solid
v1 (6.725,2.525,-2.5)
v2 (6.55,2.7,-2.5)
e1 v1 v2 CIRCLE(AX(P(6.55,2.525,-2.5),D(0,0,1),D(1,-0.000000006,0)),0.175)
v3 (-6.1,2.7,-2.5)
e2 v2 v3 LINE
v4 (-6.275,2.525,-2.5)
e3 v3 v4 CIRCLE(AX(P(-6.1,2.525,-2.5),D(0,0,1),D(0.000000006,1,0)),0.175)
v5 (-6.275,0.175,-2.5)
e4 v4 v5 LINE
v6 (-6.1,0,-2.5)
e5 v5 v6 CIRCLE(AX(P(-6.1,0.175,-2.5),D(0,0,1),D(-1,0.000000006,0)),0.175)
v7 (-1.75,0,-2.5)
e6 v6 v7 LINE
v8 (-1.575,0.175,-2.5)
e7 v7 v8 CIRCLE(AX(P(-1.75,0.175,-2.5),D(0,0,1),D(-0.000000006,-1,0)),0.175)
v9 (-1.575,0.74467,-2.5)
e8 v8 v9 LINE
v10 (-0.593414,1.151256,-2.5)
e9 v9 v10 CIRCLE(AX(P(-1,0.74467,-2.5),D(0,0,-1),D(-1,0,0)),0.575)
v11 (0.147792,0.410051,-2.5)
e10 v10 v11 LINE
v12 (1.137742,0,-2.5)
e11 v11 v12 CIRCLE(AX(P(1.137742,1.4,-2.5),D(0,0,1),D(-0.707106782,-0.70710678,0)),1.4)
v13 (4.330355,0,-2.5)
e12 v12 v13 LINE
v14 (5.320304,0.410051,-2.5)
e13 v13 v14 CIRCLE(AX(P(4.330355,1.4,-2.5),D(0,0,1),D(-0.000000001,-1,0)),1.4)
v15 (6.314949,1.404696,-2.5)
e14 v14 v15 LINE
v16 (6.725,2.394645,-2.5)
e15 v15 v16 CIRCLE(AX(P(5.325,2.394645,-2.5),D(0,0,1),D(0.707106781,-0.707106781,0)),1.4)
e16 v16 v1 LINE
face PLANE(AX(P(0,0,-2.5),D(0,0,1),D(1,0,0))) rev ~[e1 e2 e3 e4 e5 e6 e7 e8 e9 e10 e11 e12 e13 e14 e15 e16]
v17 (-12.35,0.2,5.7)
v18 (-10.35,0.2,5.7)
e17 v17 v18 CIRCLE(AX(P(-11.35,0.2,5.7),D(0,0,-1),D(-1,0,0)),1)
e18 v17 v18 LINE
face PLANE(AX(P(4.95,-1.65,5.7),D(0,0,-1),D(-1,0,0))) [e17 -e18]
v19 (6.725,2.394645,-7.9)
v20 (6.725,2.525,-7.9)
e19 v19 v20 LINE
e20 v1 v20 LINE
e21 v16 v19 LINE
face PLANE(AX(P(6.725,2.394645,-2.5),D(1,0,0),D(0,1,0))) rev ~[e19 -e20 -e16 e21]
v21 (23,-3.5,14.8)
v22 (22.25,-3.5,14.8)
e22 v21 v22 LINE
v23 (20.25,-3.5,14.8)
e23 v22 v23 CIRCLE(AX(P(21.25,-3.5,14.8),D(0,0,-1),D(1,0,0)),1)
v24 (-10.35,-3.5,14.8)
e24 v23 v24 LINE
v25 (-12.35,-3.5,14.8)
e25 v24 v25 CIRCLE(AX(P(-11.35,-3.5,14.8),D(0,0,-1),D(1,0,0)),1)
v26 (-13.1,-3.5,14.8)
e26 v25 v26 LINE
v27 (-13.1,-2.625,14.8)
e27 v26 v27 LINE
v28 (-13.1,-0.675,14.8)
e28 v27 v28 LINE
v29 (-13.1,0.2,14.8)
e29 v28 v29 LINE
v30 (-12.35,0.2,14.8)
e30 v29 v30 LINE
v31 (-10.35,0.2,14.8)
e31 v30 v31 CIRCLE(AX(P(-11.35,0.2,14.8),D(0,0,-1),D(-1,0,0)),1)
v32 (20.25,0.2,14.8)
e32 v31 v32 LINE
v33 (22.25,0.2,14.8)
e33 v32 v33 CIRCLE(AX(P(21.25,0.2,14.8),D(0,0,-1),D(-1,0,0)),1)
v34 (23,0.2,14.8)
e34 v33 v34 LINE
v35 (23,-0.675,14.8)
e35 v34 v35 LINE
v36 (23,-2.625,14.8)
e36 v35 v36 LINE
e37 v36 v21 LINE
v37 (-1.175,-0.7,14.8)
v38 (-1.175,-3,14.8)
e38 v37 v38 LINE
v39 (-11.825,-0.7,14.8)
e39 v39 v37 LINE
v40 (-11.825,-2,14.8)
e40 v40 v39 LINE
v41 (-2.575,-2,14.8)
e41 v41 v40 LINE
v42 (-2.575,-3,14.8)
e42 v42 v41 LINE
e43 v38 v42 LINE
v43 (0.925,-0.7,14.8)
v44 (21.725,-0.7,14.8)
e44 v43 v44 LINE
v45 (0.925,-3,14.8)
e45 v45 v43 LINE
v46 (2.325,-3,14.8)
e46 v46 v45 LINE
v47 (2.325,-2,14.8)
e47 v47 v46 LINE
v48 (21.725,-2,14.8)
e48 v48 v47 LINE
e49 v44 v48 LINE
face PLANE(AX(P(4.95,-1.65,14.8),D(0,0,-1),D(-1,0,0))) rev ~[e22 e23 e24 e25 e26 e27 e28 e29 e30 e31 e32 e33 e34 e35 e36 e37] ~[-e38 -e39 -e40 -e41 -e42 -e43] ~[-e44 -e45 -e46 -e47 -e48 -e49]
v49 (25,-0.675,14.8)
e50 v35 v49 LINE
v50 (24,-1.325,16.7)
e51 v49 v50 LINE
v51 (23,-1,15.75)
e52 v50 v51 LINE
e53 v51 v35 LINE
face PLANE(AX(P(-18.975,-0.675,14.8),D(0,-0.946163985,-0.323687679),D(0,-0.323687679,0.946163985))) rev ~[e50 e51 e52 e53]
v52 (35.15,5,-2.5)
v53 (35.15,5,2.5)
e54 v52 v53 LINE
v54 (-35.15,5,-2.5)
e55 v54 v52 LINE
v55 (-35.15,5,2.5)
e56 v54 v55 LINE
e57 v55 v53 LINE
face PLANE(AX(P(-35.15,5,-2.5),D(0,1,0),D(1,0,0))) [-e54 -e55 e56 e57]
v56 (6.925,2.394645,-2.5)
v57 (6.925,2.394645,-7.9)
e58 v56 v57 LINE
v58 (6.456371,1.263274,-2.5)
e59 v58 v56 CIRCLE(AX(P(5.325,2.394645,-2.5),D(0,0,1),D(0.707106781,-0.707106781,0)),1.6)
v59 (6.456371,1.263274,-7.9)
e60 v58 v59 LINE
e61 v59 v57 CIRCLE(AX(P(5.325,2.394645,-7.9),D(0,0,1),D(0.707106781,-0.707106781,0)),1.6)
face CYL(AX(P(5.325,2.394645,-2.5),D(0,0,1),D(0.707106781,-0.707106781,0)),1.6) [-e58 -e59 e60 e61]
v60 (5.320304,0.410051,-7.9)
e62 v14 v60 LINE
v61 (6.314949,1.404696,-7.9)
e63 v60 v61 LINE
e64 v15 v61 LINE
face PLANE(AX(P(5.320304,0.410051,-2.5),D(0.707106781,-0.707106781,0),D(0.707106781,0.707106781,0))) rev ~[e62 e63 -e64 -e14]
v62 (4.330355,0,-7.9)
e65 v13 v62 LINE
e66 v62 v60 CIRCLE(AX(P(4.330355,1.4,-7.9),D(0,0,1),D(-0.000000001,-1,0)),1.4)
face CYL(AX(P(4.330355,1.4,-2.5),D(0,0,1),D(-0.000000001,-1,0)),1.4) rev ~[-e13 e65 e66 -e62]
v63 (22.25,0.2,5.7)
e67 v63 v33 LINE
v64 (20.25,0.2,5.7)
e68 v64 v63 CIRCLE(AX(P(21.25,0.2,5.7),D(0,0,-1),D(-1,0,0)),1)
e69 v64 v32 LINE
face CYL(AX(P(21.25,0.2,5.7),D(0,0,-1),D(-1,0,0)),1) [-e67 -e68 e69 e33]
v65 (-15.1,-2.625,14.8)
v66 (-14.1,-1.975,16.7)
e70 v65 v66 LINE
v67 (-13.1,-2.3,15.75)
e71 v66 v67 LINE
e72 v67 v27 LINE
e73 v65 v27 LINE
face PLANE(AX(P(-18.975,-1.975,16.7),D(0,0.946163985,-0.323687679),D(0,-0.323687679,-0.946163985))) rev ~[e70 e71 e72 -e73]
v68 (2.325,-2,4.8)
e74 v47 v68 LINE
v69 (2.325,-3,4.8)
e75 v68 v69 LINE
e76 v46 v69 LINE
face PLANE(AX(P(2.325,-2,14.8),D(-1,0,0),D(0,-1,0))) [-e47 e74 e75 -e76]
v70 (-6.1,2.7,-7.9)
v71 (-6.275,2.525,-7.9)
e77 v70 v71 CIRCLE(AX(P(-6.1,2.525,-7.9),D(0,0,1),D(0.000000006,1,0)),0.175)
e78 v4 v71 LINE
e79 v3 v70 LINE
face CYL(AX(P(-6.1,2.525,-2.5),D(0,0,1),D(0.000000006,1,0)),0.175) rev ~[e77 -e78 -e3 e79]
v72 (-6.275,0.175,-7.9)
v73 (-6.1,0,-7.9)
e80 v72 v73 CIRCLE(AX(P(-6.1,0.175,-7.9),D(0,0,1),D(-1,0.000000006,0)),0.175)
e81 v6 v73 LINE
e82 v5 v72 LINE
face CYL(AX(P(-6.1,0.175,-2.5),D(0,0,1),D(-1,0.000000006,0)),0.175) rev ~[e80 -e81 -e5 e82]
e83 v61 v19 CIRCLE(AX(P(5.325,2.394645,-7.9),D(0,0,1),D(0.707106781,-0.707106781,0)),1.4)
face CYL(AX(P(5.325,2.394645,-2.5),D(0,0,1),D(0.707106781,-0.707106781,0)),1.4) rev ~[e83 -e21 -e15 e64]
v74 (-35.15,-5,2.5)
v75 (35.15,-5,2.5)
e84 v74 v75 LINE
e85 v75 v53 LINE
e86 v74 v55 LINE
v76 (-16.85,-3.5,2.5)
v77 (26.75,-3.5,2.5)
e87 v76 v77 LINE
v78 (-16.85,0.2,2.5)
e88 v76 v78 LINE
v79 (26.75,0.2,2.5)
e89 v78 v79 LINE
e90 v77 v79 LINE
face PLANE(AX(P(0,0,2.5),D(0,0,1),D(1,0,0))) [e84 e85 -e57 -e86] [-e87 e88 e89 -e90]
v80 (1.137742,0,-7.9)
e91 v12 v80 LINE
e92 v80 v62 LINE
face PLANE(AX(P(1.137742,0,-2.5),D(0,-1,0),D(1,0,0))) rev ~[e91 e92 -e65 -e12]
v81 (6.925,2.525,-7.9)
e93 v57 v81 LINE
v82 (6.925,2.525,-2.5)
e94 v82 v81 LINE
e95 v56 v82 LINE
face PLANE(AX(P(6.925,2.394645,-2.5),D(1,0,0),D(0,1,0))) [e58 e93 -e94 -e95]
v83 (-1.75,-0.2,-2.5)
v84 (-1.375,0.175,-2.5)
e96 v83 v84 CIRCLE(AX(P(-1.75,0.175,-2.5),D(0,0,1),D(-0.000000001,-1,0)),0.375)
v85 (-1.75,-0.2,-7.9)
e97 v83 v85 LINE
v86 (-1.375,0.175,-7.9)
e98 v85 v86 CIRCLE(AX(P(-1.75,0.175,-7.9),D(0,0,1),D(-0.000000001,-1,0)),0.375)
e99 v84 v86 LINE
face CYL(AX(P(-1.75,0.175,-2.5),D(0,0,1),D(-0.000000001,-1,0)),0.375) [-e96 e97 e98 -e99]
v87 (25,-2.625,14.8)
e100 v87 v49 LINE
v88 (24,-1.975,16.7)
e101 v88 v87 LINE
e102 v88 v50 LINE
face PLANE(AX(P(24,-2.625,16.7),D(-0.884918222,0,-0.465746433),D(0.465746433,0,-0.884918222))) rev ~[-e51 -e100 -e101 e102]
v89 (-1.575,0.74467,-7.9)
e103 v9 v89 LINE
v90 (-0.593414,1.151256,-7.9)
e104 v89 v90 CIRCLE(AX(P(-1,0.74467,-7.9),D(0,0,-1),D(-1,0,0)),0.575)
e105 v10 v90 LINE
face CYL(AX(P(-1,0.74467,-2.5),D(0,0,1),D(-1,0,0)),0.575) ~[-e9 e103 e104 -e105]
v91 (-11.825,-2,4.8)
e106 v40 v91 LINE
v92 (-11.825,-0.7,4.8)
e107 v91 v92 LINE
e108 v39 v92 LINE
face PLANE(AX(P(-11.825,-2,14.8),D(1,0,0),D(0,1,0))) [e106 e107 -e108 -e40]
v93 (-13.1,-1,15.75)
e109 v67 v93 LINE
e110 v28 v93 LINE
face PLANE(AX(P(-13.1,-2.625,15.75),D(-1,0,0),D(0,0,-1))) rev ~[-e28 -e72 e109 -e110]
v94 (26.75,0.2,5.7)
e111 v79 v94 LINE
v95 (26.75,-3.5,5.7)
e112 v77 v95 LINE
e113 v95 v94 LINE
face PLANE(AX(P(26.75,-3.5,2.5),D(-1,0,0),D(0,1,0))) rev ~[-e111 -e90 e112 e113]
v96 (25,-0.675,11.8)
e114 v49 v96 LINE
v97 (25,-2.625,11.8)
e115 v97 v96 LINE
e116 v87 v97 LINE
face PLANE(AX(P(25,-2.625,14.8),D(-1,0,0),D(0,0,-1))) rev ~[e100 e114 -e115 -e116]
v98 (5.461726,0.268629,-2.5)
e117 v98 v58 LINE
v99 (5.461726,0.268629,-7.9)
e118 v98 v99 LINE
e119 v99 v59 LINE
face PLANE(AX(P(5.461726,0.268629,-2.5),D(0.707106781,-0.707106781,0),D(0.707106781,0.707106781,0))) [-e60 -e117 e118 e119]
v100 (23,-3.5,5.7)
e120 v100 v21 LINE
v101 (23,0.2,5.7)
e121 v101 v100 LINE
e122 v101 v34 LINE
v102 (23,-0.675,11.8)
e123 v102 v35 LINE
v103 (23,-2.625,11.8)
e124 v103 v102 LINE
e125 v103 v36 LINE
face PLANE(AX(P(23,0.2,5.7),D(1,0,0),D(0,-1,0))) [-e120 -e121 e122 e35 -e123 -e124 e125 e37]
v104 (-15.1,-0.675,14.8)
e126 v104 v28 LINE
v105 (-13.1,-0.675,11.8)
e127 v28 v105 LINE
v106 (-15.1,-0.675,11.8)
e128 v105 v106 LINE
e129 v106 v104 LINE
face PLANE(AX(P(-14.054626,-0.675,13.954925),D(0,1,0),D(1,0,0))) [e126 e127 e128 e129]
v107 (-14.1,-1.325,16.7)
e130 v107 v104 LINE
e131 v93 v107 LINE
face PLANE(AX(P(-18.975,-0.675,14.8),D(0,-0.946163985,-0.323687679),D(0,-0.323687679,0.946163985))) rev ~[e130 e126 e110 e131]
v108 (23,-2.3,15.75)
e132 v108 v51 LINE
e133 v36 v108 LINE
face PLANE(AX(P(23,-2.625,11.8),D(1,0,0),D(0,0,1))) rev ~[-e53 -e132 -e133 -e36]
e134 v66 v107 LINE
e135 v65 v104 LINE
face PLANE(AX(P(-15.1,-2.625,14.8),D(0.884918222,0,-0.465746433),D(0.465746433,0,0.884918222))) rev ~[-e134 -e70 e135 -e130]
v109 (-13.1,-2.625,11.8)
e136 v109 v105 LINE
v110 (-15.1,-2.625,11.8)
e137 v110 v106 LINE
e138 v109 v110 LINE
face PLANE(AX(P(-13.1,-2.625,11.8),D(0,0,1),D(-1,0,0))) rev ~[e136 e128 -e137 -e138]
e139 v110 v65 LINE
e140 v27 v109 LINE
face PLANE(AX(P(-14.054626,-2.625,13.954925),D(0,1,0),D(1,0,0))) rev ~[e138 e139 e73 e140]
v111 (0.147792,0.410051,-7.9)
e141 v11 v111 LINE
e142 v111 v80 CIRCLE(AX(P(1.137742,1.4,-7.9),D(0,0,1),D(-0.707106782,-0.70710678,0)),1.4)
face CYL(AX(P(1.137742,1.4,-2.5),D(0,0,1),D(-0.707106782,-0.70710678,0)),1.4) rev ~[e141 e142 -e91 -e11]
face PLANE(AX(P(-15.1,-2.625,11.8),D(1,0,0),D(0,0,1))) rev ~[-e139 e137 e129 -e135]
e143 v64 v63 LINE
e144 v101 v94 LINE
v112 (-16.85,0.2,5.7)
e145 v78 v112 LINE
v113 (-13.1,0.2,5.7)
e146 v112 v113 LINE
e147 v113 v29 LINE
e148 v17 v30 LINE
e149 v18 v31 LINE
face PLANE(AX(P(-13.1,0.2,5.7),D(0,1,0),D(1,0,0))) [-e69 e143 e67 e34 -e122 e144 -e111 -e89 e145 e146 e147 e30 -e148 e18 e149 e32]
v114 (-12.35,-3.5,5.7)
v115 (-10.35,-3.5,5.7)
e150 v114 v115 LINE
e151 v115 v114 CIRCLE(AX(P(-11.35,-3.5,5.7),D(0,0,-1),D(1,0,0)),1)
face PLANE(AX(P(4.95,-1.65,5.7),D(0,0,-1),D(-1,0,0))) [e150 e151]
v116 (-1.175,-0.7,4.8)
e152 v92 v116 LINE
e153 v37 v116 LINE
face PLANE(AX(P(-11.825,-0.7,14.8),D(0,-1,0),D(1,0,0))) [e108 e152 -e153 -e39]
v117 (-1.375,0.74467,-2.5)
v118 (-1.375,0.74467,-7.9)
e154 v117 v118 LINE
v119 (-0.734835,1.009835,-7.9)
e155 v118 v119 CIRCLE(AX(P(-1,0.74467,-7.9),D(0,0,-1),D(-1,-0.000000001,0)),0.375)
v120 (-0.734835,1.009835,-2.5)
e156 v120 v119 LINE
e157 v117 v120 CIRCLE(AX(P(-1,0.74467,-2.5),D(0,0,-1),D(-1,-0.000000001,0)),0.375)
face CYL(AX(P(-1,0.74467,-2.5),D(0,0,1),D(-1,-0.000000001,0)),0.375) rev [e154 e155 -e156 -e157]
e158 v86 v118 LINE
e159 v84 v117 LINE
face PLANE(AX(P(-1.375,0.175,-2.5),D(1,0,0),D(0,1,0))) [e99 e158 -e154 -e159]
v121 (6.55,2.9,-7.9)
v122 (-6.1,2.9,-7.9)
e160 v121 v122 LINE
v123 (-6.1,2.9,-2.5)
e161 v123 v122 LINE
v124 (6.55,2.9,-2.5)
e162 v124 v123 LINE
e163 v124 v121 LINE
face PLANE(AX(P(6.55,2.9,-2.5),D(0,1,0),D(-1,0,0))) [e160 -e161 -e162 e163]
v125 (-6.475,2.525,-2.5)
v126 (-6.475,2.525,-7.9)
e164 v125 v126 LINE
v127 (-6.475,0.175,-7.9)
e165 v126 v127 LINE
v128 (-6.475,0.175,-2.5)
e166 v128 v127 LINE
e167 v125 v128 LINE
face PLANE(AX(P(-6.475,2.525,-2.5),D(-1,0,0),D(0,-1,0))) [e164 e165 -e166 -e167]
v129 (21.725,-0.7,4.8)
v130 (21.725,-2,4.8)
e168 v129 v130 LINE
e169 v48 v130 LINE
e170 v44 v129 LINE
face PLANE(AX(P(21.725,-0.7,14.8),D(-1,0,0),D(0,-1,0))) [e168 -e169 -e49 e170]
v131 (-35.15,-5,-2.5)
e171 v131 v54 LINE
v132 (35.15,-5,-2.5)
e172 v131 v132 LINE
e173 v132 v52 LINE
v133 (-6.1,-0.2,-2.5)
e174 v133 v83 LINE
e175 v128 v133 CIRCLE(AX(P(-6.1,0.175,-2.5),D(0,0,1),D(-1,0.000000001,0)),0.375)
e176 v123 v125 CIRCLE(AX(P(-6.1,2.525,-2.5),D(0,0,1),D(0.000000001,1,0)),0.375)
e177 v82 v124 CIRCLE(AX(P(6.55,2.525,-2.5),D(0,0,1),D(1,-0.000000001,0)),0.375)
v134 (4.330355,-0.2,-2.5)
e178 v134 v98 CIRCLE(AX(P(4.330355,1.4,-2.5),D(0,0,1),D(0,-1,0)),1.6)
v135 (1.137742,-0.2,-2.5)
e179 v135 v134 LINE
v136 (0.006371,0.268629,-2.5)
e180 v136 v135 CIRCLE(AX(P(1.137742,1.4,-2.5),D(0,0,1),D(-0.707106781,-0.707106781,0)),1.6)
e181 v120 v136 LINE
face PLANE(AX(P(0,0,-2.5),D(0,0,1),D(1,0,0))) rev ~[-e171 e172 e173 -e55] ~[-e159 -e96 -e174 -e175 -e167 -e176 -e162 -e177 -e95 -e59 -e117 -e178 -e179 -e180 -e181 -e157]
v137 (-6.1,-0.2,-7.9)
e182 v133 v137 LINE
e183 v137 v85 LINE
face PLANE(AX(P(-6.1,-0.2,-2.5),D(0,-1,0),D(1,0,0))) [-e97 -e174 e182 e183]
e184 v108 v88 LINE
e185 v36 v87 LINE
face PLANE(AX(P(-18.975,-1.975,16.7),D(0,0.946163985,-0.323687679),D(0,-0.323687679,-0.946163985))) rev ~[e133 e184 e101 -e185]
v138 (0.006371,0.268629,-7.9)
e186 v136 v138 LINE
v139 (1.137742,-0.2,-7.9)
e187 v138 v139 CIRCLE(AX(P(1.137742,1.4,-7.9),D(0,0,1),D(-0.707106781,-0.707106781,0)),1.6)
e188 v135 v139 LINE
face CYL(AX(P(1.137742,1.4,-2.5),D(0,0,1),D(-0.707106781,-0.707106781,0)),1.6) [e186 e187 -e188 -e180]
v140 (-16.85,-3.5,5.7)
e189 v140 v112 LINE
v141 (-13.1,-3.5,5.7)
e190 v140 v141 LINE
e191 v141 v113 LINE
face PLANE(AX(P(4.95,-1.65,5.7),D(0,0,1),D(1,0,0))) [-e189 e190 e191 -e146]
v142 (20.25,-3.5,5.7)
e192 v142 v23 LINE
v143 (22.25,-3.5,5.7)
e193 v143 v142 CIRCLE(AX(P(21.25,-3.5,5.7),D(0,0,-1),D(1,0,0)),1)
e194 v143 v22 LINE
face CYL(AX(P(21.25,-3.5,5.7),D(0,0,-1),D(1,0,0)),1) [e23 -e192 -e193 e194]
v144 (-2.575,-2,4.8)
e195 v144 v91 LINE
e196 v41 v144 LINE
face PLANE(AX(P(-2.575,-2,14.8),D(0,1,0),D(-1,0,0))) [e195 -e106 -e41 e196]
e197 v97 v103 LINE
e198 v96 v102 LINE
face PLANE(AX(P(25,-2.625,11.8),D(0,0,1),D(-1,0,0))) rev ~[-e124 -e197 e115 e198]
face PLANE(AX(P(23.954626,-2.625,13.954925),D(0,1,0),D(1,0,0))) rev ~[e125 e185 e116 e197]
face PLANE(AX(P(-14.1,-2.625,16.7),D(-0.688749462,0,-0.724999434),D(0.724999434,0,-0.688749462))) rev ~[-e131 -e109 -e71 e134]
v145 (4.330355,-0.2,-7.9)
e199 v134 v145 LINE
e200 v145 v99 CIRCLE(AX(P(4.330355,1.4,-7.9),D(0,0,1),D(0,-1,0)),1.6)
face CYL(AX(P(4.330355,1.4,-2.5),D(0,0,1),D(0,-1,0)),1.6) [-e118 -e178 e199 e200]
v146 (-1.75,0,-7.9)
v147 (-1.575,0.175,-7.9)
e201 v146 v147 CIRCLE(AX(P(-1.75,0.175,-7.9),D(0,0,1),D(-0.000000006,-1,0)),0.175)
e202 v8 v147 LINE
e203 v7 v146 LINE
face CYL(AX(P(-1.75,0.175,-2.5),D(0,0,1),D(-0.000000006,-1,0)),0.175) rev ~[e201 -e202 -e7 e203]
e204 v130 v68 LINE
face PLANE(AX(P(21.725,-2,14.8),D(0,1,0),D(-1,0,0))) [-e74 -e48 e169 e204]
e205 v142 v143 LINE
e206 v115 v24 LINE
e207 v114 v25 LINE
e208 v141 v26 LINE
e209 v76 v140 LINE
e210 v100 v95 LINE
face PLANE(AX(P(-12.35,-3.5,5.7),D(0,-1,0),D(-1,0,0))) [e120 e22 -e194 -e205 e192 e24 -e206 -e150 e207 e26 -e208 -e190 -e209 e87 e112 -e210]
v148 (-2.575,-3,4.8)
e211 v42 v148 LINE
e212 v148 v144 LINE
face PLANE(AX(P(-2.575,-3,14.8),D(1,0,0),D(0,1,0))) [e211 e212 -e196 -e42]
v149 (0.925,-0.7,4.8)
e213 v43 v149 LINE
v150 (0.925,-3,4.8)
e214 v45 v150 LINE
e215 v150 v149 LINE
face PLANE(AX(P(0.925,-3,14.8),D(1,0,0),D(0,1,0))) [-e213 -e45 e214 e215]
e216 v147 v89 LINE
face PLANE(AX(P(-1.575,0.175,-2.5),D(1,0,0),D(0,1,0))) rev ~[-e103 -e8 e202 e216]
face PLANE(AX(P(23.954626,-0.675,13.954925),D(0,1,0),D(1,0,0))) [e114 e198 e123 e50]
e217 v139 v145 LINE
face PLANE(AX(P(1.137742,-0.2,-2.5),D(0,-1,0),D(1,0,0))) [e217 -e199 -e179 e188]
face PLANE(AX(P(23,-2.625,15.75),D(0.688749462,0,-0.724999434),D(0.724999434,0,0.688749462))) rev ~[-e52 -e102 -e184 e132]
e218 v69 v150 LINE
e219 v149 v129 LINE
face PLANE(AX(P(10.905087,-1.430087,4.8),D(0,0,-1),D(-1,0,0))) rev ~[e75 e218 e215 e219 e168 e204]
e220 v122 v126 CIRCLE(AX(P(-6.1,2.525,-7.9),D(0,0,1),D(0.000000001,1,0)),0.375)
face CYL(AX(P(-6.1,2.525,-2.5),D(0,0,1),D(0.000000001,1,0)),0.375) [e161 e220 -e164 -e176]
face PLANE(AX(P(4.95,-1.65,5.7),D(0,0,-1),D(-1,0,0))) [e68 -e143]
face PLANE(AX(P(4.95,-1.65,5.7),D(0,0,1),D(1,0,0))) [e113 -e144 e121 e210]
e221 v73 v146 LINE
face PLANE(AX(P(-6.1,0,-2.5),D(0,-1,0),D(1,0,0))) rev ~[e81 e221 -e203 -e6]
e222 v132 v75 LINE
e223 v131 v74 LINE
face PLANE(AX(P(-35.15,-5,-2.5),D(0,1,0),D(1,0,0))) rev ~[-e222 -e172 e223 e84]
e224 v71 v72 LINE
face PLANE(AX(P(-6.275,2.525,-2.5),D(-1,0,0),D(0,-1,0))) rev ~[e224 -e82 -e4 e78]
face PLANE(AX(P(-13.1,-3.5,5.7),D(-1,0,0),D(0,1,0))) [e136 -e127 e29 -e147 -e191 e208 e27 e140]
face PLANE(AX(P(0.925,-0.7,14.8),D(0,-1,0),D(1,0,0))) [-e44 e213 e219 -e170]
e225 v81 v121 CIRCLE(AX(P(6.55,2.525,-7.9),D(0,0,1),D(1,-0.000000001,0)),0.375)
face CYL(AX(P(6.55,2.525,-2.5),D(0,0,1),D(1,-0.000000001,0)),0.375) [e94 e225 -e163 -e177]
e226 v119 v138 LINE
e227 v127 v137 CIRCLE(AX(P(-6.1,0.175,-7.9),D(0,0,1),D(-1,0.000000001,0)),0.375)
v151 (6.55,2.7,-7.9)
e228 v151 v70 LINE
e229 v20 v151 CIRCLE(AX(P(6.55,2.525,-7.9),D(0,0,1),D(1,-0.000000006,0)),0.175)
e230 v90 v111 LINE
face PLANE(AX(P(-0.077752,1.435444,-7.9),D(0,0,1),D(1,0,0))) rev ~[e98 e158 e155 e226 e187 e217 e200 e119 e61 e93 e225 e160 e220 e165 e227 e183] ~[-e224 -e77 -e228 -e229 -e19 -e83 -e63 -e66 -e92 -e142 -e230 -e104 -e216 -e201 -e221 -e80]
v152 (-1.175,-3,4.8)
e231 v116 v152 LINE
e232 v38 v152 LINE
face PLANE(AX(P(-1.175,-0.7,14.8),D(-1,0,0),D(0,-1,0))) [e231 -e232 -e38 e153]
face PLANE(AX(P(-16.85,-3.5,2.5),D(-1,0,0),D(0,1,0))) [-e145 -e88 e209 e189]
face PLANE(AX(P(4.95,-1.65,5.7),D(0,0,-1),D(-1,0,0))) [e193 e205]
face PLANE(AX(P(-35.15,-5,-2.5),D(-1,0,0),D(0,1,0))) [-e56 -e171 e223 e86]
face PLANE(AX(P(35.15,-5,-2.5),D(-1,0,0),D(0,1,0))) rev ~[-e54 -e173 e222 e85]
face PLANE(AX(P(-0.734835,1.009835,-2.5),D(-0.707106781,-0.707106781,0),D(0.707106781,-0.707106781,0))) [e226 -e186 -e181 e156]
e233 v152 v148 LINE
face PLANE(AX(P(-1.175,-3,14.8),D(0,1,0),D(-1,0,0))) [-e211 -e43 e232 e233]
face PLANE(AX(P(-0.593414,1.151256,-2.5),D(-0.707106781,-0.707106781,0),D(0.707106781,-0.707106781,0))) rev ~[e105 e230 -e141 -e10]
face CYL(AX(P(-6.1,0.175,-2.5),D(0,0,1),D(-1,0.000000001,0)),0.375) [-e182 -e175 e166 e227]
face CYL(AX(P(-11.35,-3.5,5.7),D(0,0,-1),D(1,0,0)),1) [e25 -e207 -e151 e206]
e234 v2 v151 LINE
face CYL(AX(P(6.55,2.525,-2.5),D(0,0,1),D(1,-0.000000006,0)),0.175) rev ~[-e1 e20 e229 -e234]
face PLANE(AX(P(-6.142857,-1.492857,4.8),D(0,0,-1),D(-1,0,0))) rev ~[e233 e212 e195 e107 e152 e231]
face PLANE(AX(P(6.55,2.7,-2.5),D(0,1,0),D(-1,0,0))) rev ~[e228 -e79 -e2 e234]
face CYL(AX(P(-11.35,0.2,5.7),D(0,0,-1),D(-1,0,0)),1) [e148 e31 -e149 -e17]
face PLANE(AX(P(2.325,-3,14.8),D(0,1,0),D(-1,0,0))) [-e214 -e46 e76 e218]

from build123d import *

# Parameters (mm, degrees)
BOSS_EXTRUDE1_DEPTH      = 2.5
BOSS_EXTRUDE1_DEPTH_BACK = 2.5
SKETCH1_W                = 70.3
SKETCH1_H                = 10
SKETCH2_W                = 43.6
SKETCH2_H                = 3.7
BOSS_EXTRUDE2_DEPTH      = 3.2
BOSS_EXTRUDE3_DEPTH      = 9.1
CUT_EXTRUDE1_DEPTH       = 10
BOSS_EXTRUDE4_DEPTH      = 0.975
BOSS_EXTRUDE4_DEPTH_BACK = 0.975
CUT_EXTRUDE2_DEPTH       = 34
CUT_EXTRUDE2_DEPTH_BACK  = 18.975
BOSS_EXTRUDE5_DEPTH      = 5.4


with BuildPart() as part:
    # Sketch1 → Boss-Extrude1 (new, two sides: drawn at the far end of the back side and taken through both)
    with BuildSketch(Plane.XY.offset(-BOSS_EXTRUDE1_DEPTH_BACK)):
        Rectangle(SKETCH1_W, SKETCH1_H)
    extrude(amount=BOSS_EXTRUDE1_DEPTH + BOSS_EXTRUDE1_DEPTH_BACK)

    # Sketch2 → Boss-Extrude2 (add)
    with BuildSketch(Plane.XY.offset(2.5)):
        with Locations((4.95, -1.65)):
            Rectangle(SKETCH2_W, SKETCH2_H)
    extrude(amount=BOSS_EXTRUDE2_DEPTH)

    # Sketch3 → Boss-Extrude3 (add)
    with BuildSketch(Plane.XY.offset(5.7)):
        with BuildLine():
            Line((-13.1, 0.2), (-12.35, 0.2))
            ThreePointArc((-12.35, 0.2), (-11.35, 1.2), (-10.35, 0.2))
            Line((-10.35, 0.2), (20.25, 0.2))
            ThreePointArc((20.25, 0.2), (21.25, 1.2), (22.25, 0.2))
            Line((22.25, 0.2), (23, 0.2))
            Line((23, 0.2), (23, -3.5))
            Line((23, -3.5), (22.25, -3.5))
            ThreePointArc((22.25, -3.5), (21.25, -4.5), (20.25, -3.5))
            Line((20.25, -3.5), (-10.35, -3.5))
            ThreePointArc((-10.35, -3.5), (-11.35, -4.5), (-12.35, -3.5))
            Line((-12.35, -3.5), (-13.1, -3.5))
            Line((-13.1, -3.5), (-13.1, 0.2))
        make_face()
    extrude(amount=BOSS_EXTRUDE3_DEPTH)

    # Sketch4 → Cut-Extrude1 (cut)
    with BuildSketch(Plane.XY.offset(14.8)):
        Polygon((-11.825, -0.7), (-1.175, -0.7), (-1.175, -3), (-2.575, -3), (-2.575, -2), (-11.825, -2), align=None)
        Polygon((0.925, -0.7), (21.725, -0.7), (21.725, -2), (2.325, -2), (2.325, -3), (0.925, -3), align=None)
    extrude(amount=-CUT_EXTRUDE1_DEPTH, mode=Mode.SUBTRACT)

    # Sketch5 → Boss-Extrude4 (add, two sides: drawn at the far end of the back side and taken through both)
    with BuildSketch(Plane(origin=(0, -1.65, 0), x_dir=(1, 0, 0), z_dir=(0, 1, 0)).offset(-BOSS_EXTRUDE4_DEPTH_BACK)):
        Polygon((-13.1, -11.8), (-15.1, -11.8), (-15.1, -14.8), (-14.1, -16.7), (-13.1, -15.75), align=None)
        Polygon((24, -16.7), (25, -14.8), (25, -11.8), (23, -11.8), (23, -15.75), align=None)
    extrude(amount=BOSS_EXTRUDE4_DEPTH + BOSS_EXTRUDE4_DEPTH_BACK)

    # Sketch6 → Cut-Extrude2 (cut, two sides: drawn at the far end of the back side and taken through both)
    with BuildSketch(Plane(origin=(0, 0, 0), x_dir=(0, 0, -1), z_dir=(1, 0, 0)).offset(-CUT_EXTRUDE2_DEPTH_BACK)):
        Polygon((-14.8, -2.625), (-16.7, -1.975), (-16.7, -2.625), align=None)
        Polygon((-16.7, -1.325), (-14.8, -0.675), (-16.7, -0.675), align=None)
    extrude(amount=CUT_EXTRUDE2_DEPTH + CUT_EXTRUDE2_DEPTH_BACK, mode=Mode.SUBTRACT)

    # Sketch7 → Boss-Extrude5 (add)
    with BuildSketch(Plane(origin=(0, 0, -2.5), x_dir=(-1, 0, 0), z_dir=(0, 0, -1))):
        with BuildLine():
            Line((-6.55, 2.9), (6.1, 2.9))
            ThreePointArc((6.1, 2.9), (6.365165043, 2.790165043), (6.475, 2.525))
            Line((6.475, 2.525), (6.475, 0.175))
            ThreePointArc((6.475, 0.175), (6.365165043, -0.090165043), (6.1, -0.2))
            Line((6.1, -0.2), (1.75, -0.2))
            ThreePointArc((1.75, -0.2), (1.484834957, -0.090165043), (1.375, 0.175))
            Line((1.375, 0.175), (1.375, 0.744669914))
            ThreePointArc((1.375, 0.744669914), (1.143506287, 1.091124739), (0.734834957, 1.009834957))
            Line((0.734834957, 1.009834957), (-0.00637085, 0.26862915))
            ThreePointArc((-0.00637085, 0.26862915), (-0.525448208, -0.078207252), (-1.1377417, -0.2))
            Line((-1.1377417, -0.2), (-4.330354687, -0.2))
            ThreePointArc((-4.330354687, -0.2), (-4.942648179, -0.078207252), (-5.461725537, 0.26862915))
            Line((-5.461725537, 0.26862915), (-6.45637085, 1.263274463))
            ThreePointArc((-6.45637085, 1.263274463), (-6.803207252, 1.782351821), (-6.925, 2.394645313))
            Line((-6.925, 2.394645313), (-6.925, 2.525))
            ThreePointArc((-6.925, 2.525), (-6.815165043, 2.790165043), (-6.55, 2.9))
        make_face()
        with BuildLine():
            Line((-5.320304181, 0.410050506), (-6.314949494, 1.404695819))
            ThreePointArc((-6.314949494, 1.404695819), (-6.618431346, 1.858888508), (-6.725, 2.394645313))
            Line((-6.725, 2.394645313), (-6.725, 2.525))
            ThreePointArc((-6.725, 2.525), (-6.673743687, 2.648743687), (-6.55, 2.7))
            Line((-6.55, 2.7), (6.1, 2.7))
            ThreePointArc((6.1, 2.7), (6.223743687, 2.648743687), (6.275, 2.525))
            Line((6.275, 2.525), (6.275, 0.175))
            ThreePointArc((6.275, 0.175), (6.223743687, 0.051256313), (6.1, 0))
            Line((6.1, 0), (1.75, 0))
            ThreePointArc((1.75, 0), (1.626256313, 0.051256313), (1.575, 0.175))
            Line((1.575, 0.175), (1.575, 0.744669914))
            ThreePointArc((1.575, 0.744669914), (1.220042974, 1.275900645), (0.593413601, 1.151256313))
            Line((0.593413601, 1.151256313), (-0.147792206, 0.410050506))
            ThreePointArc((-0.147792206, 0.410050506), (-0.601984894, 0.106568654), (-1.1377417, 0))
            Line((-1.1377417, 0), (-4.330354687, 0))
            ThreePointArc((-4.330354687, 0), (-4.866111492, 0.106568654), (-5.320304181, 0.410050506))
        make_face(mode=Mode.SUBTRACT)
    extrude(amount=BOSS_EXTRUDE5_DEPTH)


solid = part.part
